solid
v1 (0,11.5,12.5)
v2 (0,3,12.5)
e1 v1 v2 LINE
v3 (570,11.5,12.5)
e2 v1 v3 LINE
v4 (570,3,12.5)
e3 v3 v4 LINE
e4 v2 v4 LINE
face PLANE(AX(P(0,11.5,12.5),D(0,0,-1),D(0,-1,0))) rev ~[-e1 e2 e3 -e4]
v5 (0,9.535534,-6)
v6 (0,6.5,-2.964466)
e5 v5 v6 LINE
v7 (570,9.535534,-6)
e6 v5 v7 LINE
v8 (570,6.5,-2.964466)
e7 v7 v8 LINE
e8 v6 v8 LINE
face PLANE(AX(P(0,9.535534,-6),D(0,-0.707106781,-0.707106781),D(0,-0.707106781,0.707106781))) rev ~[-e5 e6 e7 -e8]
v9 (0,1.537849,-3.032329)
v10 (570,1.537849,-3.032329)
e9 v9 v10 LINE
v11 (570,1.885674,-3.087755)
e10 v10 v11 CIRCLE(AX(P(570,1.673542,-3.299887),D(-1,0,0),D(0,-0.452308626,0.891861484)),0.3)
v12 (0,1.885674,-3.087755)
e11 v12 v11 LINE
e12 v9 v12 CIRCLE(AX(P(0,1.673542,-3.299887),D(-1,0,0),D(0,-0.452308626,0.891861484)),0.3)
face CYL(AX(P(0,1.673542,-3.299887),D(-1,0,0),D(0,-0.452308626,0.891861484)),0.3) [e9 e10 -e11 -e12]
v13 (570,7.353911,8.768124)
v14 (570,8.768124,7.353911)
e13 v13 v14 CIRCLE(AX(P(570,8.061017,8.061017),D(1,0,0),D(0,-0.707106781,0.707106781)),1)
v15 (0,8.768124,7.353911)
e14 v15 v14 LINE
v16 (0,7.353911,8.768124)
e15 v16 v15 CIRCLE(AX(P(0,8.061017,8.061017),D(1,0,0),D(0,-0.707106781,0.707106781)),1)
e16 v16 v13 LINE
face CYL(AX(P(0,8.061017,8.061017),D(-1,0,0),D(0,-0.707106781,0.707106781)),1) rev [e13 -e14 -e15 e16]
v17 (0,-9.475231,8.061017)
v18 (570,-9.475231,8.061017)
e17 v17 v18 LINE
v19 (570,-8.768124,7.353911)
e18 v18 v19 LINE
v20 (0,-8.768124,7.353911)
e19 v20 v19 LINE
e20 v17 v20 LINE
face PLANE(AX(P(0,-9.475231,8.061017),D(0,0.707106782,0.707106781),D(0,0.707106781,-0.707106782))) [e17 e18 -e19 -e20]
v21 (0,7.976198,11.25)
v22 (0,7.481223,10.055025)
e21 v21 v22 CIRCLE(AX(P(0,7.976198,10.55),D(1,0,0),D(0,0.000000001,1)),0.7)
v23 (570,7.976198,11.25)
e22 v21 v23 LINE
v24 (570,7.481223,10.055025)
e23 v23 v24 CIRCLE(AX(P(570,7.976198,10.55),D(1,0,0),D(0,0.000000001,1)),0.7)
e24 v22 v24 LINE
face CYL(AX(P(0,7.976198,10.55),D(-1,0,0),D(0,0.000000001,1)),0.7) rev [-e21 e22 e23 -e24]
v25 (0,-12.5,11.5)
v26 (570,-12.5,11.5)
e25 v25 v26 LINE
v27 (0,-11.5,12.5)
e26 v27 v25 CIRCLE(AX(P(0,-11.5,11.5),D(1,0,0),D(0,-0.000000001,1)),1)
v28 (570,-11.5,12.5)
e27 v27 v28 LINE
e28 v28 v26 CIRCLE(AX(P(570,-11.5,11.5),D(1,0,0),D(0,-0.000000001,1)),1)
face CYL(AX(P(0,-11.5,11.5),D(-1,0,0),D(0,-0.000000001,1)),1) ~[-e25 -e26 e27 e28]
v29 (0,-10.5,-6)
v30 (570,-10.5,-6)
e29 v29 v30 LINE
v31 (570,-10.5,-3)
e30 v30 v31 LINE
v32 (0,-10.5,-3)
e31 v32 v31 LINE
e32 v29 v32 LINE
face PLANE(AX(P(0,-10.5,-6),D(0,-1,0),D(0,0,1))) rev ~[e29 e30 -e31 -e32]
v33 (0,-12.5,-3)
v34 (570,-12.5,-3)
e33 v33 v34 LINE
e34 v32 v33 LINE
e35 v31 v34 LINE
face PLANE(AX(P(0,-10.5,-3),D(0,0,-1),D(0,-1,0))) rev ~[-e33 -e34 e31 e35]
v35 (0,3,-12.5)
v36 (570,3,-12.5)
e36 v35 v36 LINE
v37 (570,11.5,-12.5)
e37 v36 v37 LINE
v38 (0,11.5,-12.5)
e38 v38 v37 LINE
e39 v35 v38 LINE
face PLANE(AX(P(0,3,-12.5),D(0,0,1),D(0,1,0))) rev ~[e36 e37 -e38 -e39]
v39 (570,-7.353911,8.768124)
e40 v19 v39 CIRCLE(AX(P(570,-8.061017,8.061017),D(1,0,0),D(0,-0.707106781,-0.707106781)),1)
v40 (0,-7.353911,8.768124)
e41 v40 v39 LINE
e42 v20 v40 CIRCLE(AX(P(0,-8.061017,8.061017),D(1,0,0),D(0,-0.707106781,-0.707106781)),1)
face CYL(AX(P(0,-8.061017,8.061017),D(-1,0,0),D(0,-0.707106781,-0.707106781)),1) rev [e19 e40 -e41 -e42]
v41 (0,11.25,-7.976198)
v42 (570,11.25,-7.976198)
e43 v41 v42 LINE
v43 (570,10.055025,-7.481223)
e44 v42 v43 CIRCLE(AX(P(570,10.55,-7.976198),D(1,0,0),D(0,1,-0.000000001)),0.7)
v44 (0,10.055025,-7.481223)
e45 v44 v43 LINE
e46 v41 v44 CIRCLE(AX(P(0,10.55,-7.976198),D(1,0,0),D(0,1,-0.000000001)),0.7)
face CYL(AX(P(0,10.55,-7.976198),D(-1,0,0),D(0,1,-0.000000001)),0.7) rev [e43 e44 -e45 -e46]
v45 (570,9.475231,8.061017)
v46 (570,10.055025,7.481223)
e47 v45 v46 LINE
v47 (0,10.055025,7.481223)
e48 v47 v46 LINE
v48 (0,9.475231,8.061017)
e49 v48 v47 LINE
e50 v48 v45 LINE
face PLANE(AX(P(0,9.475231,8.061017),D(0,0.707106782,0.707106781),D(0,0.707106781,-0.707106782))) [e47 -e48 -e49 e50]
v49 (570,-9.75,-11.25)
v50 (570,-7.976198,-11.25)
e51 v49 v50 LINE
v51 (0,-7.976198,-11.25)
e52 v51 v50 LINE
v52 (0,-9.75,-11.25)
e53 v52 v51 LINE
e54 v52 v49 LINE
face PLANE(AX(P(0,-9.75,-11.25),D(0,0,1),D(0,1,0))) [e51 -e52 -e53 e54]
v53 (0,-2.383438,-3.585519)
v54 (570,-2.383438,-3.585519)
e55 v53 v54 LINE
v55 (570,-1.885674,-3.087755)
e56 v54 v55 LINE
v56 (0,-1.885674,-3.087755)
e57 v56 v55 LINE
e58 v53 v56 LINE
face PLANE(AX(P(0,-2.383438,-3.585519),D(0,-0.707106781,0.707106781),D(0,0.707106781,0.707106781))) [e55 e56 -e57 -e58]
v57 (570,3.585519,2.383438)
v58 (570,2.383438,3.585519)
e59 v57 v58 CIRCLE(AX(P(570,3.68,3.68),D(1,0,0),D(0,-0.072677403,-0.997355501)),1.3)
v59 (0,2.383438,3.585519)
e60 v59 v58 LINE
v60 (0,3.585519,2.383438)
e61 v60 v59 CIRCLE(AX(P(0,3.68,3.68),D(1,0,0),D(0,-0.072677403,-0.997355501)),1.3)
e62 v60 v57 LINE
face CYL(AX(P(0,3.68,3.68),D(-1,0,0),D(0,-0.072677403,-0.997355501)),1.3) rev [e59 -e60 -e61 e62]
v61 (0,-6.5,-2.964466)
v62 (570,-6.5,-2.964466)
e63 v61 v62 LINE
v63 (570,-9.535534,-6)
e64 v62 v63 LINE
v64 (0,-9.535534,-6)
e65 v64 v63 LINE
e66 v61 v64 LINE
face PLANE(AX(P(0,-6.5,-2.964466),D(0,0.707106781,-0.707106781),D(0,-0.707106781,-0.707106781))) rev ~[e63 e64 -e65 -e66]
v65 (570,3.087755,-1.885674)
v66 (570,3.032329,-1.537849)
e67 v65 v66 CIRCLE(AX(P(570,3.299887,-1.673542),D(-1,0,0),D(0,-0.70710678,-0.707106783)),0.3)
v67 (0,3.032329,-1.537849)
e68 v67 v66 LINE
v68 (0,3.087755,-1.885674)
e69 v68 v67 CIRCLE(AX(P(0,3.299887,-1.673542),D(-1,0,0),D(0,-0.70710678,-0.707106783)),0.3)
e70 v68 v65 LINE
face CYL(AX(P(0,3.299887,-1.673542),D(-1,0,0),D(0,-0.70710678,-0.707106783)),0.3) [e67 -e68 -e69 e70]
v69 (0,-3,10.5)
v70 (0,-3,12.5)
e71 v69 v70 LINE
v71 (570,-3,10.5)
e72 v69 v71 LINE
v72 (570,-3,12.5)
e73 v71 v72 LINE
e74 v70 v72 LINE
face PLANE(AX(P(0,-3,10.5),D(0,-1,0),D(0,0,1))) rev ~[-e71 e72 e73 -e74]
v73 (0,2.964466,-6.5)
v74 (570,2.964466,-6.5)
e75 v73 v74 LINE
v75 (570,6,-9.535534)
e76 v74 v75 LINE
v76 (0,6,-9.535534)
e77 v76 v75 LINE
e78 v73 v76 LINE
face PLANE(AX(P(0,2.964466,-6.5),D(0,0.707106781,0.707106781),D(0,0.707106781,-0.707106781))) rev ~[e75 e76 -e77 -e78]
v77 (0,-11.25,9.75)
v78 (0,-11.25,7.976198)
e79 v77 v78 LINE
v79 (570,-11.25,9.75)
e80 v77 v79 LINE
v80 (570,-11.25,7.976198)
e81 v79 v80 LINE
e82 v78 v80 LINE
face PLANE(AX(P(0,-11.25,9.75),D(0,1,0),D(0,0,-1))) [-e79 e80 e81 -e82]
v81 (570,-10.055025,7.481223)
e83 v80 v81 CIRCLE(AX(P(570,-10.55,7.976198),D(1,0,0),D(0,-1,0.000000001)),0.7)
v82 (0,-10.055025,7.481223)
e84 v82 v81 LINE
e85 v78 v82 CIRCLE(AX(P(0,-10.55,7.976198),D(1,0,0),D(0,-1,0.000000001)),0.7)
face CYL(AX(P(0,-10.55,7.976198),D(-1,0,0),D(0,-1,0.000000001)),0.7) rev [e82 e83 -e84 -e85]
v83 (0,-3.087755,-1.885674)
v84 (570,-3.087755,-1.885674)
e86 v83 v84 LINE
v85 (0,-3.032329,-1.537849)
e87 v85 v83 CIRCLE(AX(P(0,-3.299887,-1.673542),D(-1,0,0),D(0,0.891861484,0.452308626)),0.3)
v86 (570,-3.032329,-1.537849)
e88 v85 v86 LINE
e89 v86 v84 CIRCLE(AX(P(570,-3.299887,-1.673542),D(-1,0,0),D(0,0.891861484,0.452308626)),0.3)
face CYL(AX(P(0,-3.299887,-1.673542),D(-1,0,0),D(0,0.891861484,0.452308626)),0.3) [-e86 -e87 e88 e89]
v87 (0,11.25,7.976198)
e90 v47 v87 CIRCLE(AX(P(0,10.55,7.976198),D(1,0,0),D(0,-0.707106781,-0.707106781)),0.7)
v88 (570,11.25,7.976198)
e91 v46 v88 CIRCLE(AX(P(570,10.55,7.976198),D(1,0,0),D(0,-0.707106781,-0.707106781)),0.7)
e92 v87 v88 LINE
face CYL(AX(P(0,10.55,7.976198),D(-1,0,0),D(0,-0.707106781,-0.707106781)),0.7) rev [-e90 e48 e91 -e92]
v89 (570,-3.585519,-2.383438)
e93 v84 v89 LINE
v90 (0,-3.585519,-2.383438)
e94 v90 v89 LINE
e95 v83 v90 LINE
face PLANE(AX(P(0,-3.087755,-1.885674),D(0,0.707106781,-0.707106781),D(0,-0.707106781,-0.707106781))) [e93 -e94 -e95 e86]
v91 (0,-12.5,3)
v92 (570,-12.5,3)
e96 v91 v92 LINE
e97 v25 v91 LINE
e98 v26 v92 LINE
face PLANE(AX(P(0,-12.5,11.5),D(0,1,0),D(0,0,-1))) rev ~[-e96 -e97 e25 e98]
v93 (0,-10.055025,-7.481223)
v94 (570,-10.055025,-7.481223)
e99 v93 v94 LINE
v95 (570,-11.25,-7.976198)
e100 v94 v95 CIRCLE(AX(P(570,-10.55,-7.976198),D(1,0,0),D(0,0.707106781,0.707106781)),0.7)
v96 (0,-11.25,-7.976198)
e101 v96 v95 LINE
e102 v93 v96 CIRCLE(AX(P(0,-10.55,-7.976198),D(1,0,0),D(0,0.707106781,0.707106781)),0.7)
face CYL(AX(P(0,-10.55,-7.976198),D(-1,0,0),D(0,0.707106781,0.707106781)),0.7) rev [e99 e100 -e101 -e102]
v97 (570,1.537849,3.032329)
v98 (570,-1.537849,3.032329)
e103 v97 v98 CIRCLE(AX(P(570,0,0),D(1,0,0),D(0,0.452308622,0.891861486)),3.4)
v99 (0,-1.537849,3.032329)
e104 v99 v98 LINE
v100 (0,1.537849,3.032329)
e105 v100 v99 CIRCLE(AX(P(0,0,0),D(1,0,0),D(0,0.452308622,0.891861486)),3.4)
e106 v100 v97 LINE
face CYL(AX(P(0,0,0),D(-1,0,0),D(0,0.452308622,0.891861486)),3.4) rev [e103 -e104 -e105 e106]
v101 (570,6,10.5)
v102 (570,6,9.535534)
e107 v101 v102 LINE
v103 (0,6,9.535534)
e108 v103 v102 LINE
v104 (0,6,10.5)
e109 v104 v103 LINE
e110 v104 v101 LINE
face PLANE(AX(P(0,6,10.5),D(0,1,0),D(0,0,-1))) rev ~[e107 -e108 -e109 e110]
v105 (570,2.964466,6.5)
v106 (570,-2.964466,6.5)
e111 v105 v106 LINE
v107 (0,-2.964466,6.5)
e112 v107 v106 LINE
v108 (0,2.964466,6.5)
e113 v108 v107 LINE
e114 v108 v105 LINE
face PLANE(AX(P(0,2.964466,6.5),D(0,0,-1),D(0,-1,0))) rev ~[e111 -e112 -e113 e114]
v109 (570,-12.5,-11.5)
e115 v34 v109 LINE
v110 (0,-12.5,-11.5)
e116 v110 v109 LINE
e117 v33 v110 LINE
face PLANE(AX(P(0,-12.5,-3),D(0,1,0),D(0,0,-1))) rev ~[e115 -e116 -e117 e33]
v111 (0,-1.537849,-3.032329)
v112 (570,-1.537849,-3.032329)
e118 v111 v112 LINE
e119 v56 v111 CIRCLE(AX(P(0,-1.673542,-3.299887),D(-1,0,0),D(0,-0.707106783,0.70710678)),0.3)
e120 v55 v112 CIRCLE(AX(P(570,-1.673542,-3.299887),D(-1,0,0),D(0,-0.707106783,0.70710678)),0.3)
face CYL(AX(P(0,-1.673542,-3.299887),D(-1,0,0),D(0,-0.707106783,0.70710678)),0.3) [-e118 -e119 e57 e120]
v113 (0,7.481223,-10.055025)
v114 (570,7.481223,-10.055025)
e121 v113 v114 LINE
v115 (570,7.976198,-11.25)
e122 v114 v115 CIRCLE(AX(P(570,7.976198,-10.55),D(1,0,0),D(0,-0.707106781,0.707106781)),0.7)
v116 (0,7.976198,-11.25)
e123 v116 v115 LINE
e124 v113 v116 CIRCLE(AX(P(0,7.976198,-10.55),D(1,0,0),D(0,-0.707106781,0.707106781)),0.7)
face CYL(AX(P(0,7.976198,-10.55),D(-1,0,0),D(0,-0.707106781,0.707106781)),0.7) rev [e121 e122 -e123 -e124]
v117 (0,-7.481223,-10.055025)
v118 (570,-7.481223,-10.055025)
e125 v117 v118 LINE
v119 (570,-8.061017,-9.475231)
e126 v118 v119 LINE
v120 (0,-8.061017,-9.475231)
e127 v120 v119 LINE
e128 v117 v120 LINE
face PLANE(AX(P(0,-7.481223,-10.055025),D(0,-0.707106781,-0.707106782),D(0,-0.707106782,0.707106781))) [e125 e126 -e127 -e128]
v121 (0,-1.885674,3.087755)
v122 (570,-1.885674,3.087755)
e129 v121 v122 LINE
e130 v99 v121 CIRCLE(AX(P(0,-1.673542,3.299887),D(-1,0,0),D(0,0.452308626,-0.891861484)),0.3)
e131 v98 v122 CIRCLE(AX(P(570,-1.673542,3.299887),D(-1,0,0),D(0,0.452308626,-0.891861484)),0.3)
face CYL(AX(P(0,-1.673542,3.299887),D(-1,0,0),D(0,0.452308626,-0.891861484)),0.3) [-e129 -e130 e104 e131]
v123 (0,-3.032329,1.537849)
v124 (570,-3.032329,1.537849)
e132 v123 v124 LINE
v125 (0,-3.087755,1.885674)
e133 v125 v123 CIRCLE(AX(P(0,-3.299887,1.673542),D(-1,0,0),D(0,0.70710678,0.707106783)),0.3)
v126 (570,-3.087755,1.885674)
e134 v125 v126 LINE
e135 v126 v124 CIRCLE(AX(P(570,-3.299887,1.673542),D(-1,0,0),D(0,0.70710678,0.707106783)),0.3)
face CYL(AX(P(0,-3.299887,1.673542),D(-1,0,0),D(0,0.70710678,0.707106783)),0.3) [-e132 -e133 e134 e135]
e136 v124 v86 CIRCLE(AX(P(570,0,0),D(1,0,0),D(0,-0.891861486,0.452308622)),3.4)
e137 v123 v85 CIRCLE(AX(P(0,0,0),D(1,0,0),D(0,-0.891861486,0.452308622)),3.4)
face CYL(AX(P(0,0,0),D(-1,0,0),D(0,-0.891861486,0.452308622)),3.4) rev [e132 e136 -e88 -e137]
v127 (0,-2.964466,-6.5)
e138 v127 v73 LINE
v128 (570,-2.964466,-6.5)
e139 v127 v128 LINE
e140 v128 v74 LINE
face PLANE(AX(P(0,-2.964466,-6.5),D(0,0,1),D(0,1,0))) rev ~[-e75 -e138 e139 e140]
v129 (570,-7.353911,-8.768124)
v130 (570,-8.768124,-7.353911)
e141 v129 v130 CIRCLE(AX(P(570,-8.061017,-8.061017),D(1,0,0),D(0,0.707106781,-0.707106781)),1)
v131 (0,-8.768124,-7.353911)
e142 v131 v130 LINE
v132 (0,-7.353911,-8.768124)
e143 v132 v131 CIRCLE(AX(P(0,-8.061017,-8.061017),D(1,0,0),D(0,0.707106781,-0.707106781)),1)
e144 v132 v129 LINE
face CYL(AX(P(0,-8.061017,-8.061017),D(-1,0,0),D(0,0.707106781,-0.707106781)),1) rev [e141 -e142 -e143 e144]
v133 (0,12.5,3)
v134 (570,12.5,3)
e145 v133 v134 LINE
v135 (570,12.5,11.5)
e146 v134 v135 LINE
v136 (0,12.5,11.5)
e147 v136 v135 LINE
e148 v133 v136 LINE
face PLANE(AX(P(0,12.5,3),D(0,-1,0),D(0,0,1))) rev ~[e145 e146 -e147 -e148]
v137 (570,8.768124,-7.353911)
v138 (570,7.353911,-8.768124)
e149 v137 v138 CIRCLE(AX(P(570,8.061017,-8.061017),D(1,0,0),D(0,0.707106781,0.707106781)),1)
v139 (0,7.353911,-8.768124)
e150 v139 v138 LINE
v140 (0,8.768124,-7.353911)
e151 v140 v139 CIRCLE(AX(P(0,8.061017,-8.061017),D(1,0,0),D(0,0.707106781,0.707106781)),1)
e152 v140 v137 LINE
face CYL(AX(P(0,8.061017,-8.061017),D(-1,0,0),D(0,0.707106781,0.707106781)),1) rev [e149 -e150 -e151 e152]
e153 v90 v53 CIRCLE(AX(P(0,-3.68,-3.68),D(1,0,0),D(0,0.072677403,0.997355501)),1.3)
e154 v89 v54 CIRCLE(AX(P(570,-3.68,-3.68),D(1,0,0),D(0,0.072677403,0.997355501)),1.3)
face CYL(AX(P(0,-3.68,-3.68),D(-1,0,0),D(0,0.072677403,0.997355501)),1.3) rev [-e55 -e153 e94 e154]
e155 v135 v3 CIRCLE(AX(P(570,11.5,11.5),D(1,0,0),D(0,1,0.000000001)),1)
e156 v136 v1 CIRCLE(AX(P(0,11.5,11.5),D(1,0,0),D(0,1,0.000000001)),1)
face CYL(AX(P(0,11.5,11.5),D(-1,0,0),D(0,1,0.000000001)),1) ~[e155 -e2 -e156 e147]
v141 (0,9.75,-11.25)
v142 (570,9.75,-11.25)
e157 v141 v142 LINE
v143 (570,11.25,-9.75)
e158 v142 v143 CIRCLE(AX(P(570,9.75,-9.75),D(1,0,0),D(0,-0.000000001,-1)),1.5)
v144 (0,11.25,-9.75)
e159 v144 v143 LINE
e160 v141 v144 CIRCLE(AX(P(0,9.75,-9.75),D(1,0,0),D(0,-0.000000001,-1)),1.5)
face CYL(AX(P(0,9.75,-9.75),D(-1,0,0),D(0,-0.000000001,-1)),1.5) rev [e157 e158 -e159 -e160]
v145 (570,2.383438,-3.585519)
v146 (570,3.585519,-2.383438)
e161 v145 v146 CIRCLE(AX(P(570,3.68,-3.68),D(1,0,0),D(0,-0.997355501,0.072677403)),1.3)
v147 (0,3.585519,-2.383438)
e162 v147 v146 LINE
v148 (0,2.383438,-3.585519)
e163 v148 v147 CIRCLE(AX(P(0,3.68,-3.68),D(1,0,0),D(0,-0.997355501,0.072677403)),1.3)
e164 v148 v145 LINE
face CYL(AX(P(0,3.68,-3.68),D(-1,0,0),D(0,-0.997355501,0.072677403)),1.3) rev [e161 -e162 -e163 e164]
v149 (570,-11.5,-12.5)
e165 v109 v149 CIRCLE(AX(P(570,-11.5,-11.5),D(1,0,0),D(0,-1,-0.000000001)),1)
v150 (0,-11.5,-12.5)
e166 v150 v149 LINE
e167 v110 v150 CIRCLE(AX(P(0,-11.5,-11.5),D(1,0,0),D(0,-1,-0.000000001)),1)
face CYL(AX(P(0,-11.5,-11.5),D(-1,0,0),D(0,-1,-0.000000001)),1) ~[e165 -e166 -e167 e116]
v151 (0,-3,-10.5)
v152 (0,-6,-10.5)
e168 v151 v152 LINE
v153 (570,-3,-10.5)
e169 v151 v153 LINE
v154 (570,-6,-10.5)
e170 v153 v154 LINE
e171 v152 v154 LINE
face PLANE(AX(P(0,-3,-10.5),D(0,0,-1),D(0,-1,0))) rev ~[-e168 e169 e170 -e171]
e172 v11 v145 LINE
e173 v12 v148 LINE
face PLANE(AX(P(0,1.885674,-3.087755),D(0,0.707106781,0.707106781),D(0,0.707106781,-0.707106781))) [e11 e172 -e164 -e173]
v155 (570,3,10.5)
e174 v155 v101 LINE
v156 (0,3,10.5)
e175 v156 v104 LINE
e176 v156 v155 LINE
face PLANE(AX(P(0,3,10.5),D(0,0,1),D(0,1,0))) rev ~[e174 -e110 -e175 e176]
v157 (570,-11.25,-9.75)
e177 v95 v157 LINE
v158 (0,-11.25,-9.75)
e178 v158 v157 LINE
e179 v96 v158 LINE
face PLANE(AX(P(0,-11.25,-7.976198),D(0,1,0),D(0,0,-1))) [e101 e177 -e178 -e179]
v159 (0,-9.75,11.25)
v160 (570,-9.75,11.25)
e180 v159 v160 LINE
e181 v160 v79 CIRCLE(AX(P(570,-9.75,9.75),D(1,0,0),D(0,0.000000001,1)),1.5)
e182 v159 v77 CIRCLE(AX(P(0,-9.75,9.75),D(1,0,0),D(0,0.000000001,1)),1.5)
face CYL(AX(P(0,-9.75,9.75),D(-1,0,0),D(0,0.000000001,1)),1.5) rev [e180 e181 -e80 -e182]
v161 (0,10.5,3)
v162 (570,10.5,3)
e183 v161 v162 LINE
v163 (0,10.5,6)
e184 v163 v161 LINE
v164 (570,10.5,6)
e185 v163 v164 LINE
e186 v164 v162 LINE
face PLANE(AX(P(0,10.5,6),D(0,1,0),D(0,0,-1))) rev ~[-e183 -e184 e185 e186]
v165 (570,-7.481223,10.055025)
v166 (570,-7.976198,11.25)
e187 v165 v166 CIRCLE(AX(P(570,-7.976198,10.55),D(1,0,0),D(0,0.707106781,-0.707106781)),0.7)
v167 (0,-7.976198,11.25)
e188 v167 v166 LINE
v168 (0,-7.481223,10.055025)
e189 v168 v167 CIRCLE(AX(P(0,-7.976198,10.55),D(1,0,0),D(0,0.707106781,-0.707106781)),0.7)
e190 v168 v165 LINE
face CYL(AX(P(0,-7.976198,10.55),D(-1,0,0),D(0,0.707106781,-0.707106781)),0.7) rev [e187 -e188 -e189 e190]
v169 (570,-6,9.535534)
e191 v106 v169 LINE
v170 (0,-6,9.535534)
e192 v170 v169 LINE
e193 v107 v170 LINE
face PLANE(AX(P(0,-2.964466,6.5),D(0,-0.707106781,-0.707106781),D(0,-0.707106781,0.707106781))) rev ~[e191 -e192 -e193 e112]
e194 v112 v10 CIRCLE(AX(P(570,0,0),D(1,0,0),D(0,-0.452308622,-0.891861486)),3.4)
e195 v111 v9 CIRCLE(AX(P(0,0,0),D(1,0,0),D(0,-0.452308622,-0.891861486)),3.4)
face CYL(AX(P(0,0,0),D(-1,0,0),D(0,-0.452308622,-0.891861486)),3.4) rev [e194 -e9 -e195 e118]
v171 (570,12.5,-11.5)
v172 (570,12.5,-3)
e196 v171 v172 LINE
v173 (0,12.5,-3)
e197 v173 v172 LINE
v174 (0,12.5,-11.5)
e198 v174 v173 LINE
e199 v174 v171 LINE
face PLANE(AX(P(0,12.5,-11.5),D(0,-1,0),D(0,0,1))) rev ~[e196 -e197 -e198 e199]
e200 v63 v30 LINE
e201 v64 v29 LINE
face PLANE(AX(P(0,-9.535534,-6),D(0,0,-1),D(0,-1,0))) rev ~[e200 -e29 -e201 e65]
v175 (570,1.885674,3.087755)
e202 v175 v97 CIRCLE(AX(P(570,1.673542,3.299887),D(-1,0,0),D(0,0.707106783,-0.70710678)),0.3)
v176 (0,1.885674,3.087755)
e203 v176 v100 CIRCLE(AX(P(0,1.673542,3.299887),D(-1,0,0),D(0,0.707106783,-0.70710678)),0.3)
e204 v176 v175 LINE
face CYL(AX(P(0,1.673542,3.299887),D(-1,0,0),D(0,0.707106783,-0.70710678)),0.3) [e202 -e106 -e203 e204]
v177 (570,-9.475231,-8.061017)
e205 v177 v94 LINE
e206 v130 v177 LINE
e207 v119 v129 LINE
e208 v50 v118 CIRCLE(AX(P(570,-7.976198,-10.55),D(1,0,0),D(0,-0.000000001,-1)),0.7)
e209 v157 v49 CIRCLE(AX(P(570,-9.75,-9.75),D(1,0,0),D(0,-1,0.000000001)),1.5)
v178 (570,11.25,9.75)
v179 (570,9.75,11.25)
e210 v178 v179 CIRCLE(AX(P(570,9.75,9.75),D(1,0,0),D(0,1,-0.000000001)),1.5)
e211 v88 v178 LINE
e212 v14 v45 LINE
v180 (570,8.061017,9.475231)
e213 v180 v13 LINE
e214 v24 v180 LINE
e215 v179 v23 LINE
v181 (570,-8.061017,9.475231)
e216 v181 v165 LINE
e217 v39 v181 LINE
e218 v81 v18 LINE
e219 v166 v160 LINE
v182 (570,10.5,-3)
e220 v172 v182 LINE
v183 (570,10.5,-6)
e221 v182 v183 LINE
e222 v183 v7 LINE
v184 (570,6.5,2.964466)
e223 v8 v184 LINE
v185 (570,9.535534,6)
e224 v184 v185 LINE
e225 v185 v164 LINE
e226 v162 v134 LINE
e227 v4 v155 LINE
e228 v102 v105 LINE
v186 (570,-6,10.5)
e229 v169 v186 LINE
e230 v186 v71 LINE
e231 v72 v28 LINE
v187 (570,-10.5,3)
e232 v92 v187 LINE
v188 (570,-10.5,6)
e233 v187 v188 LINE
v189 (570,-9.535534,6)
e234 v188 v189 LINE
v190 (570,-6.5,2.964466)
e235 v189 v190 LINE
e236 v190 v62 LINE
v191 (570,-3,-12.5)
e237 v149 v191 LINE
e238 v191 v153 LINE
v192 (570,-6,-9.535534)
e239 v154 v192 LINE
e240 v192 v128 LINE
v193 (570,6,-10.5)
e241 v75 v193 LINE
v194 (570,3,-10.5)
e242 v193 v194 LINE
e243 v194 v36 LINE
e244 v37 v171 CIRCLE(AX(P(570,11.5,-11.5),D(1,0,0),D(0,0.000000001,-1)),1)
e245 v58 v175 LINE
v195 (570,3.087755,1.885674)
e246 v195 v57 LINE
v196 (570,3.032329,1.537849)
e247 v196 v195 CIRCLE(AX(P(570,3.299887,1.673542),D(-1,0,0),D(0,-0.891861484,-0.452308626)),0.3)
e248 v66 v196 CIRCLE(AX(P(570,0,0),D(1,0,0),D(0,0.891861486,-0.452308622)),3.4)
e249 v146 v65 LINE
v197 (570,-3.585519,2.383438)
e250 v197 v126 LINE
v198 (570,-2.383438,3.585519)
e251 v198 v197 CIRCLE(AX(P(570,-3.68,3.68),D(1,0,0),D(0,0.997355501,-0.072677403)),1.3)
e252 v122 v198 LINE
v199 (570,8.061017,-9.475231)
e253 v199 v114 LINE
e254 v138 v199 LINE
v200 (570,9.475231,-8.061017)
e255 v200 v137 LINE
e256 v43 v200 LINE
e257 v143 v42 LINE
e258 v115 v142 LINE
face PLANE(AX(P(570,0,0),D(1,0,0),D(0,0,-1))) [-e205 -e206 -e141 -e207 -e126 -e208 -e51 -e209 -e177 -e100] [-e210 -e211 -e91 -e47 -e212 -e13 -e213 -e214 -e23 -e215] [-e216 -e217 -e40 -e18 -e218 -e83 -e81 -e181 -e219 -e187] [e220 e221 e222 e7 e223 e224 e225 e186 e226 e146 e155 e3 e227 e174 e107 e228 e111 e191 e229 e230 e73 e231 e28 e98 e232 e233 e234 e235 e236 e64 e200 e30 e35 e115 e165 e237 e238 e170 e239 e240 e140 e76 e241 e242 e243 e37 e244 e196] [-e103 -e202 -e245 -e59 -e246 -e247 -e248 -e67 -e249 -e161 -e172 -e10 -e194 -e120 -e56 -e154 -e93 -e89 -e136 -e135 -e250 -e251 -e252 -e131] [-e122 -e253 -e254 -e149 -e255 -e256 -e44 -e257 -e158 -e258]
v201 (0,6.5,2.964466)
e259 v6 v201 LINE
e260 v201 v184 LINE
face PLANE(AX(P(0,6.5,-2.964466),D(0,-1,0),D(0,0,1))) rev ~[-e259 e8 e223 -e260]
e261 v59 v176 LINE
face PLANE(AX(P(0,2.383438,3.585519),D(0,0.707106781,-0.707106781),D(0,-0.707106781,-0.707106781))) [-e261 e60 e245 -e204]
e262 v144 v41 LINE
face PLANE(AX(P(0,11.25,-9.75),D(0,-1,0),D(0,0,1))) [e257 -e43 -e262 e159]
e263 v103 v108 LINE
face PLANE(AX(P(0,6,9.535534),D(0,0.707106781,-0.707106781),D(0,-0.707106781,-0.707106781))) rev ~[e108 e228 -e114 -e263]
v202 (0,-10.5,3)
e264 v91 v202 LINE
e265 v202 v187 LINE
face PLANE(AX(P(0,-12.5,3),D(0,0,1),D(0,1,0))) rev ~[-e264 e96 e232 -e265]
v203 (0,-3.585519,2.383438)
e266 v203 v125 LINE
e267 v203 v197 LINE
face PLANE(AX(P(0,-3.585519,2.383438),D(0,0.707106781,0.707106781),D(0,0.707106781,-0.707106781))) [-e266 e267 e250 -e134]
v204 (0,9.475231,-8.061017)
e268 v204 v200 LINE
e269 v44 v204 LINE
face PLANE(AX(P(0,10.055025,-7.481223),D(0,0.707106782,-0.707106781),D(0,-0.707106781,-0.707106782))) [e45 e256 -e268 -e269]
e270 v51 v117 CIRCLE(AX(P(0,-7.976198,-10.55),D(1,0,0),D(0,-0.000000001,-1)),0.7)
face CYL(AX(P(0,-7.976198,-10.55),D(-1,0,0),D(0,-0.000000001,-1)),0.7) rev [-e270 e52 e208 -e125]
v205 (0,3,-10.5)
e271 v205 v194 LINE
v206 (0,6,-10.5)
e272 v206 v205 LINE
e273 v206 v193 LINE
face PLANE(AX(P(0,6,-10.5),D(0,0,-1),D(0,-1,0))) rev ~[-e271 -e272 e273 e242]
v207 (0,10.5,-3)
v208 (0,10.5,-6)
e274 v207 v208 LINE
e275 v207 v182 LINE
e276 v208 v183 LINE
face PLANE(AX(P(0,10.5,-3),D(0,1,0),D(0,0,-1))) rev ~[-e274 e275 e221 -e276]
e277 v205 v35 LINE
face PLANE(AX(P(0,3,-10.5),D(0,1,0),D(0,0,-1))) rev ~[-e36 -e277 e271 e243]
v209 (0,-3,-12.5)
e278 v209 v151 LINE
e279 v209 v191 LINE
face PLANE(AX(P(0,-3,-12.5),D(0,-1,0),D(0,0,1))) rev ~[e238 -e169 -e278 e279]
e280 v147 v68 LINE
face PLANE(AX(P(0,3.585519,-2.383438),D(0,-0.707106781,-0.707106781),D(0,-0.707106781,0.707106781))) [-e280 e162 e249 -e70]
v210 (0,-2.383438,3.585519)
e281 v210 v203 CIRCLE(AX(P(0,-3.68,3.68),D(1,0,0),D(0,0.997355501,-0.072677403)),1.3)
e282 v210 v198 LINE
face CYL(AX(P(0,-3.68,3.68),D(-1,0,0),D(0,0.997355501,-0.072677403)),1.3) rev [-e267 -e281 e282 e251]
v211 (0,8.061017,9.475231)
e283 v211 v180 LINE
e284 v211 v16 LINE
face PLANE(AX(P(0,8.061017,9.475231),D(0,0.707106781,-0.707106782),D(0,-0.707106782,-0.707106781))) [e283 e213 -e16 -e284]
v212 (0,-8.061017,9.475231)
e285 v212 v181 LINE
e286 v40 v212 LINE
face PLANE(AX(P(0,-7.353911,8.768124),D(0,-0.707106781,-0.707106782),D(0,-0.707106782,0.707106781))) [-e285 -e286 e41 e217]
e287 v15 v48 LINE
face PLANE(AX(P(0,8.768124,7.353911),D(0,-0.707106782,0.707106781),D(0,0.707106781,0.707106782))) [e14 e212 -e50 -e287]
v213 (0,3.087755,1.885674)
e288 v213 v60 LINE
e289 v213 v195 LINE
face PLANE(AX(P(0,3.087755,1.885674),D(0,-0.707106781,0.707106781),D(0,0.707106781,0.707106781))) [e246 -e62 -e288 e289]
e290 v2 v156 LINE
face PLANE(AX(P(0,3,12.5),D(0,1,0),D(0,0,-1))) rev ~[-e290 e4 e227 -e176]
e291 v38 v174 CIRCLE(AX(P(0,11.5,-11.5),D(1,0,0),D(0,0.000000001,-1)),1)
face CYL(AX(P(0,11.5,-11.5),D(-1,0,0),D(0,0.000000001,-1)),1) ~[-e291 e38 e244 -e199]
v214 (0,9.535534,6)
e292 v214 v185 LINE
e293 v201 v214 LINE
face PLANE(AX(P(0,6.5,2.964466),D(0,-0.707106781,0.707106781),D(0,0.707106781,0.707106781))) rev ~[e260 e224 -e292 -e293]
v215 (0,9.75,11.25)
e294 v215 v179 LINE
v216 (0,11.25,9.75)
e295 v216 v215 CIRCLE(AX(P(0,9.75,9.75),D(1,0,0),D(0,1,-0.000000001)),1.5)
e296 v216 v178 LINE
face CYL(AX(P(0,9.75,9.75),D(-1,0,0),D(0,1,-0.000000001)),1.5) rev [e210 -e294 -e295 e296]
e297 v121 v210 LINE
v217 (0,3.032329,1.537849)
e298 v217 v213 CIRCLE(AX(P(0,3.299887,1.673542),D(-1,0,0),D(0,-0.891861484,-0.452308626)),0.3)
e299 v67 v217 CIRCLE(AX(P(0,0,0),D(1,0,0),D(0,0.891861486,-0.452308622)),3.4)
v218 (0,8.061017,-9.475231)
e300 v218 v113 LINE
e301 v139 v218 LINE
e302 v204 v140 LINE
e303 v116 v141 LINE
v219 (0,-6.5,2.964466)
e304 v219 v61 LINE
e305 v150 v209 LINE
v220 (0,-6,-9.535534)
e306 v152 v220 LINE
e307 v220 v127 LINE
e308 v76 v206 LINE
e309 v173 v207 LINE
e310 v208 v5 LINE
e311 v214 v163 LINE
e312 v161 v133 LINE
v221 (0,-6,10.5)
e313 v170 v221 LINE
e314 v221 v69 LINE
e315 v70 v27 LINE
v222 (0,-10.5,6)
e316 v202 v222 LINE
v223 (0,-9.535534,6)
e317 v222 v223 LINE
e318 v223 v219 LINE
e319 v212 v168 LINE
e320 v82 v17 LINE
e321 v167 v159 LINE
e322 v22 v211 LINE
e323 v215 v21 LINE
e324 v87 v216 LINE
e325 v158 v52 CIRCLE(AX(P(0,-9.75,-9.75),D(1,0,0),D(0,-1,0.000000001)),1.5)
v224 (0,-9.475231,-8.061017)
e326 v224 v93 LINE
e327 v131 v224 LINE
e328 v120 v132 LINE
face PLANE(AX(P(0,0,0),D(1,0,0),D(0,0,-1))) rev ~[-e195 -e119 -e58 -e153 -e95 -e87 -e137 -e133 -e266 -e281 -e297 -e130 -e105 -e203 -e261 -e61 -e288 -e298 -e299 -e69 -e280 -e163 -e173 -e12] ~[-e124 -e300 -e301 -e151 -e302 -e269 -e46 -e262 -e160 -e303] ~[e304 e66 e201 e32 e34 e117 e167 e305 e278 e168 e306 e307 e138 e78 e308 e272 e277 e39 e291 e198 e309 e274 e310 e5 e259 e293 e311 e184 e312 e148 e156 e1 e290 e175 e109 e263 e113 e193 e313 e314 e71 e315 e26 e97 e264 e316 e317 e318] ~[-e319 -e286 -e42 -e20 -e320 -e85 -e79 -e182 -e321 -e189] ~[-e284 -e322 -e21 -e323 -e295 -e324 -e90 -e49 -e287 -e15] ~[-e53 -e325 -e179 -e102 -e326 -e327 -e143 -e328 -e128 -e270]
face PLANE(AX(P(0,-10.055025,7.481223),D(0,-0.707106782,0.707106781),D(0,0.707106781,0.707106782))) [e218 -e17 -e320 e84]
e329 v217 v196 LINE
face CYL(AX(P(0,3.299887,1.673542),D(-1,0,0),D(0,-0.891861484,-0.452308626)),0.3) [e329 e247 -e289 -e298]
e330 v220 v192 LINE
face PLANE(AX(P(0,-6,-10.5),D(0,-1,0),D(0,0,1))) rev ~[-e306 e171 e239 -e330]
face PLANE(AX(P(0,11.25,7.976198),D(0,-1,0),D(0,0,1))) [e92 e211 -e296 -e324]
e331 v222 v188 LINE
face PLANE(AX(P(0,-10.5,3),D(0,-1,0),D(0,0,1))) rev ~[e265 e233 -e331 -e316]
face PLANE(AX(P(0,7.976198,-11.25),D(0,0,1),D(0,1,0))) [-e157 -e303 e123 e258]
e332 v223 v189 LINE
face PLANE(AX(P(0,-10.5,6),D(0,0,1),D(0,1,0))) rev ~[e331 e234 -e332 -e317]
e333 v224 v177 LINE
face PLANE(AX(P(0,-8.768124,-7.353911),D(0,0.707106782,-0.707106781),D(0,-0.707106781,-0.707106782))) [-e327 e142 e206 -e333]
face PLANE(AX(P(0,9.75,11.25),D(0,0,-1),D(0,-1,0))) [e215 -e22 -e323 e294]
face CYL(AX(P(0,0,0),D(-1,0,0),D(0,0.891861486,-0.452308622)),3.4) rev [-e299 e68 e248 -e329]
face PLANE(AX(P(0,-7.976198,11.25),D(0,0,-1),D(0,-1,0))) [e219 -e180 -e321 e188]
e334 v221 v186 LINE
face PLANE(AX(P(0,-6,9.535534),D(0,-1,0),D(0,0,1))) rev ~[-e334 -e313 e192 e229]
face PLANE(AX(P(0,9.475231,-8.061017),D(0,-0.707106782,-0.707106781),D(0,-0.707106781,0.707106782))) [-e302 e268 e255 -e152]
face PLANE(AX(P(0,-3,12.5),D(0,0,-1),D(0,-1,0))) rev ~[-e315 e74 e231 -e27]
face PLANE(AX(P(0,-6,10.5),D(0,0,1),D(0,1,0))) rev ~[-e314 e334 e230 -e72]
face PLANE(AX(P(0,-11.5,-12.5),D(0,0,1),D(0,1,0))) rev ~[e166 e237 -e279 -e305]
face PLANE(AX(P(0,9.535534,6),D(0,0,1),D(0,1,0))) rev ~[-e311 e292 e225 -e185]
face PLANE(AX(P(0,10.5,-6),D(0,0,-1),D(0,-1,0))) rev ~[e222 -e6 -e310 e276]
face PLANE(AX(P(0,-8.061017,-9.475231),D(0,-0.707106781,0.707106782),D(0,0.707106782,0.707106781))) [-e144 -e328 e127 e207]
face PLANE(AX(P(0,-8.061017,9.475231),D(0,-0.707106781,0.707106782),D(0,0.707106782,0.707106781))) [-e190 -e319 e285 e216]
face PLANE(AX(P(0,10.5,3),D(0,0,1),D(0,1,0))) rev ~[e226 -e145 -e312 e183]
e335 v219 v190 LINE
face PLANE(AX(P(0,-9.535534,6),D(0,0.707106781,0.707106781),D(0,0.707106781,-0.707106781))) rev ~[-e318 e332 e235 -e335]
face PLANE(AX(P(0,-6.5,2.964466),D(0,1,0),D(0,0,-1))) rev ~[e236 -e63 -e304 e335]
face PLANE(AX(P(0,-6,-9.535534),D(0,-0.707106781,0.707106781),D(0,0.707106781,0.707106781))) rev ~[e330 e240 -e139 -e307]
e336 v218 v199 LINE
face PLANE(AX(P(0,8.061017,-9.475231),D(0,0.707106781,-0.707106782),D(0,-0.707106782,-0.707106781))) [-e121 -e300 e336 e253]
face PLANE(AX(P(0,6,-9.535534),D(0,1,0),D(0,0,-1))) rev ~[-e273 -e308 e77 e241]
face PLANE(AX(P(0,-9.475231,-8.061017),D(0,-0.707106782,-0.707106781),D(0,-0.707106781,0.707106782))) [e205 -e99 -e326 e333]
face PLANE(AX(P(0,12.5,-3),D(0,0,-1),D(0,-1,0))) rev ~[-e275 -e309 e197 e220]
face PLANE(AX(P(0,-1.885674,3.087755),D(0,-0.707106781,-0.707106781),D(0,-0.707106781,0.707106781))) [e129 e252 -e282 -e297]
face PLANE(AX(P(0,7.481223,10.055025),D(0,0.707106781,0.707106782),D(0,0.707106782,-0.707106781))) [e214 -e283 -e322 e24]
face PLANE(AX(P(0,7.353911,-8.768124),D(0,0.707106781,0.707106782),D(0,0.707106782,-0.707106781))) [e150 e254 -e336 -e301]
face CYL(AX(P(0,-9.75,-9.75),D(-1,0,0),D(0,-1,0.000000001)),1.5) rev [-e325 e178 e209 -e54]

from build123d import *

# Parameters (mm, degrees)
BOSS_EXTRUDE1_DEPTH = 570


with BuildPart() as part:
    # Sketch1 → Boss-Extrude1 (new body)
    with BuildSketch(Plane(origin=(0, 0, 0), x_dir=(0, 0, -1), z_dir=(1, 0, 0))):
        with BuildLine():
            Line((-12.5, 11.5), (-12.5, 3))
            Line((-12.5, 3), (-10.5, 3))
            Line((-10.5, 3), (-10.5, 6))
            Line((-10.5, 6), (-9.535533906, 6))
            Line((-9.535533906, 6), (-6.5, 2.964466094))
            Line((-6.5, 2.964466094), (-6.5, -2.964466094))
            Line((-6.5, -2.964466094), (-9.535533906, -6))
            Line((-9.535533906, -6), (-10.5, -6))
            Line((-10.5, -6), (-10.5, -3))
            Line((-10.5, -3), (-12.5, -3))
            Line((-12.5, -3), (-12.5, -11.5))
            ThreePointArc((-12.5, -11.5), (-12.207106781, -12.207106781), (-11.5, -12.5))
            Line((-11.5, -12.5), (-3, -12.5))
            Line((-3, -12.5), (-3, -10.5))
            Line((-3, -10.5), (-6, -10.5))
            Line((-6, -10.5), (-6, -9.535533906))
            Line((-6, -9.535533906), (-2.964466094, -6.5))
            Line((-2.964466094, -6.5), (2.964466094, -6.5))
            Line((2.964466094, -6.5), (6, -9.535533906))
            Line((6, -9.535533906), (6, -10.5))
            Line((6, -10.5), (3, -10.5))
            Line((3, -10.5), (3, -12.5))
            Line((3, -12.5), (11.5, -12.5))
            ThreePointArc((11.5, -12.5), (12.207106781, -12.207106781), (12.5, -11.5))
            Line((12.5, -11.5), (12.5, -3))
            Line((12.5, -3), (10.5, -3))
            Line((10.5, -3), (10.5, -6))
            Line((10.5, -6), (9.535533906, -6))
            Line((9.535533906, -6), (6.5, -2.964466094))
            Line((6.5, -2.964466094), (6.5, 2.964466094))
            Line((6.5, 2.964466094), (9.535533906, 6))
            Line((9.535533906, 6), (10.5, 6))
            Line((10.5, 6), (10.5, 3))
            Line((10.5, 3), (12.5, 3))
            Line((12.5, 3), (12.5, 11.5))
            ThreePointArc((12.5, 11.5), (12.207106781, 12.207106781), (11.5, 12.5))
            Line((11.5, 12.5), (3, 12.5))
            Line((3, 12.5), (3, 10.5))
            Line((3, 10.5), (6, 10.5))
            Line((6, 10.5), (6, 9.535533906))
            Line((6, 9.535533906), (2.964466094, 6.5))
            Line((2.964466094, 6.5), (-2.964466094, 6.5))
            Line((-2.964466094, 6.5), (-6, 9.535533906))
            Line((-6, 9.535533906), (-6, 10.5))
            Line((-6, 10.5), (-3, 10.5))
            Line((-3, 10.5), (-3, 12.5))
            Line((-3, 12.5), (-11.5, 12.5))
            ThreePointArc((-11.5, 12.5), (-12.207106781, 12.207106781), (-12.5, 11.5))
        make_face()
        with BuildLine():
            Line((-3.087755464, -1.885673936), (-3.585519377, -2.383437849))
            ThreePointArc((-3.585519377, -2.383437849), (-4.599238816, -4.599238816), (-2.383437849, -3.585519377))
            Line((-2.383437849, -3.585519377), (-1.885673936, -3.087755464))
            ThreePointArc((-1.885673936, -3.087755464), (-1.720751743, -3.0036254), (-1.537849315, -3.032329053))
            ThreePointArc((-1.537849315, -3.032329053), (0, -3.4), (1.537849315, -3.032329053))
            ThreePointArc((1.537849315, -3.032329053), (1.720751743, -3.0036254), (1.885673936, -3.087755464))
            Line((1.885673936, -3.087755464), (2.383437849, -3.585519377))
            ThreePointArc((2.383437849, -3.585519377), (4.599238816, -4.599238816), (3.585519377, -2.383437849))
            Line((3.585519377, -2.383437849), (3.087755464, -1.885673936))
            ThreePointArc((3.087755464, -1.885673936), (3.0036254, -1.720751743), (3.032329053, -1.537849315))
            ThreePointArc((3.032329053, -1.537849315), (3.4, 0), (3.032329053, 1.537849315))
            ThreePointArc((3.032329053, 1.537849315), (3.0036254, 1.720751743), (3.087755464, 1.885673936))
            Line((3.087755464, 1.885673936), (3.585519377, 2.383437849))
            ThreePointArc((3.585519377, 2.383437849), (4.599238816, 4.599238816), (2.383437849, 3.585519377))
            Line((2.383437849, 3.585519377), (1.885673936, 3.087755464))
            ThreePointArc((1.885673936, 3.087755464), (1.720751743, 3.0036254), (1.537849315, 3.032329053))
            ThreePointArc((1.537849315, 3.032329053), (0, 3.4), (-1.537849315, 3.032329053))
            ThreePointArc((-1.537849315, 3.032329053), (-1.720751743, 3.0036254), (-1.885673936, 3.087755464))
            Line((-1.885673936, 3.087755464), (-2.383437849, 3.585519377))
            ThreePointArc((-2.383437849, 3.585519377), (-4.599238816, 4.599238816), (-3.585519377, 2.383437849))
            Line((-3.585519377, 2.383437849), (-3.087755464, 1.885673936))
            ThreePointArc((-3.087755464, 1.885673936), (-3.0036254, 1.720751743), (-3.032329053, 1.537849315))
            ThreePointArc((-3.032329053, 1.537849315), (-3.4, 0), (-3.032329053, -1.537849315))
            ThreePointArc((-3.032329053, -1.537849315), (-3.0036254, -1.720751743), (-3.087755464, -1.885673936))
        make_face(mode=Mode.SUBTRACT)
        with BuildLine():
            Line((-11.25, 9.75), (-11.25, 7.976197667))
            ThreePointArc((-11.25, 7.976197667), (-10.817878403, 7.329481994), (-10.055025253, 7.48122292))
            Line((-10.055025253, 7.48122292), (-9.475230868, 8.061017306))
            Line((-9.475230868, 8.061017306), (-8.768124087, 7.353910524))
            ThreePointArc((-8.768124087, 7.353910524), (-7.353910524, 7.353910524), (-7.353910524, 8.768124087))
            Line((-7.353910524, 8.768124087), (-8.061017306, 9.475230868))
            Line((-8.061017306, 9.475230868), (-7.48122292, 10.055025253))
            ThreePointArc((-7.48122292, 10.055025253), (-7.329481994, 10.817878403), (-7.976197667, 11.25))
            Line((-7.976197667, 11.25), (-9.75, 11.25))
            ThreePointArc((-9.75, 11.25), (-10.810660172, 10.810660172), (-11.25, 9.75))
        make_face(mode=Mode.SUBTRACT)
        with BuildLine():
            Line((8.061017306, 9.475230868), (7.353910524, 8.768124087))
            ThreePointArc((7.353910524, 8.768124087), (7.353910524, 7.353910524), (8.768124087, 7.353910524))
            Line((8.768124087, 7.353910524), (9.475230868, 8.061017306))
            Line((9.475230868, 8.061017306), (10.055025253, 7.48122292))
            ThreePointArc((10.055025253, 7.48122292), (10.817878403, 7.329481994), (11.25, 7.976197667))
            Line((11.25, 7.976197667), (11.25, 9.75))
            ThreePointArc((11.25, 9.75), (10.810660172, 10.810660172), (9.75, 11.25))
            Line((9.75, 11.25), (7.976197667, 11.25))
            ThreePointArc((7.976197667, 11.25), (7.329481994, 10.817878403), (7.48122292, 10.055025253))
            Line((7.48122292, 10.055025253), (8.061017306, 9.475230868))
        make_face(mode=Mode.SUBTRACT)
        with BuildLine():
            Line((-9.475230868, -8.061017306), (-10.055025253, -7.48122292))
            ThreePointArc((-10.055025253, -7.48122292), (-10.817878403, -7.329481994), (-11.25, -7.976197667))
            Line((-11.25, -7.976197667), (-11.25, -9.75))
            ThreePointArc((-11.25, -9.75), (-10.810660172, -10.810660172), (-9.75, -11.25))
            Line((-9.75, -11.25), (-7.976197667, -11.25))
            ThreePointArc((-7.976197667, -11.25), (-7.329481994, -10.817878403), (-7.48122292, -10.055025253))
            Line((-7.48122292, -10.055025253), (-8.061017306, -9.475230868))
            Line((-8.061017306, -9.475230868), (-7.353910524, -8.768124087))
            ThreePointArc((-7.353910524, -8.768124087), (-7.353910524, -7.353910524), (-8.768124087, -7.353910524))
            Line((-8.768124087, -7.353910524), (-9.475230868, -8.061017306))
        make_face(mode=Mode.SUBTRACT)
        with BuildLine():
            Line((9.475230868, -8.061017306), (8.768124087, -7.353910524))
            ThreePointArc((8.768124087, -7.353910524), (7.353910524, -7.353910524), (7.353910524, -8.768124087))
            Line((7.353910524, -8.768124087), (8.061017306, -9.475230868))
            Line((8.061017306, -9.475230868), (7.48122292, -10.055025253))
            ThreePointArc((7.48122292, -10.055025253), (7.329481994, -10.817878403), (7.976197667, -11.25))
            Line((7.976197667, -11.25), (9.75, -11.25))
            ThreePointArc((9.75, -11.25), (10.810660172, -10.810660172), (11.25, -9.75))
            Line((11.25, -9.75), (11.25, -7.976197667))
            ThreePointArc((11.25, -7.976197667), (10.817878403, -7.329481994), (10.055025253, -7.48122292))
            Line((10.055025253, -7.48122292), (9.475230868, -8.061017306))
        make_face(mode=Mode.SUBTRACT)
    extrude(amount=BOSS_EXTRUDE1_DEPTH)


solid = part.part
